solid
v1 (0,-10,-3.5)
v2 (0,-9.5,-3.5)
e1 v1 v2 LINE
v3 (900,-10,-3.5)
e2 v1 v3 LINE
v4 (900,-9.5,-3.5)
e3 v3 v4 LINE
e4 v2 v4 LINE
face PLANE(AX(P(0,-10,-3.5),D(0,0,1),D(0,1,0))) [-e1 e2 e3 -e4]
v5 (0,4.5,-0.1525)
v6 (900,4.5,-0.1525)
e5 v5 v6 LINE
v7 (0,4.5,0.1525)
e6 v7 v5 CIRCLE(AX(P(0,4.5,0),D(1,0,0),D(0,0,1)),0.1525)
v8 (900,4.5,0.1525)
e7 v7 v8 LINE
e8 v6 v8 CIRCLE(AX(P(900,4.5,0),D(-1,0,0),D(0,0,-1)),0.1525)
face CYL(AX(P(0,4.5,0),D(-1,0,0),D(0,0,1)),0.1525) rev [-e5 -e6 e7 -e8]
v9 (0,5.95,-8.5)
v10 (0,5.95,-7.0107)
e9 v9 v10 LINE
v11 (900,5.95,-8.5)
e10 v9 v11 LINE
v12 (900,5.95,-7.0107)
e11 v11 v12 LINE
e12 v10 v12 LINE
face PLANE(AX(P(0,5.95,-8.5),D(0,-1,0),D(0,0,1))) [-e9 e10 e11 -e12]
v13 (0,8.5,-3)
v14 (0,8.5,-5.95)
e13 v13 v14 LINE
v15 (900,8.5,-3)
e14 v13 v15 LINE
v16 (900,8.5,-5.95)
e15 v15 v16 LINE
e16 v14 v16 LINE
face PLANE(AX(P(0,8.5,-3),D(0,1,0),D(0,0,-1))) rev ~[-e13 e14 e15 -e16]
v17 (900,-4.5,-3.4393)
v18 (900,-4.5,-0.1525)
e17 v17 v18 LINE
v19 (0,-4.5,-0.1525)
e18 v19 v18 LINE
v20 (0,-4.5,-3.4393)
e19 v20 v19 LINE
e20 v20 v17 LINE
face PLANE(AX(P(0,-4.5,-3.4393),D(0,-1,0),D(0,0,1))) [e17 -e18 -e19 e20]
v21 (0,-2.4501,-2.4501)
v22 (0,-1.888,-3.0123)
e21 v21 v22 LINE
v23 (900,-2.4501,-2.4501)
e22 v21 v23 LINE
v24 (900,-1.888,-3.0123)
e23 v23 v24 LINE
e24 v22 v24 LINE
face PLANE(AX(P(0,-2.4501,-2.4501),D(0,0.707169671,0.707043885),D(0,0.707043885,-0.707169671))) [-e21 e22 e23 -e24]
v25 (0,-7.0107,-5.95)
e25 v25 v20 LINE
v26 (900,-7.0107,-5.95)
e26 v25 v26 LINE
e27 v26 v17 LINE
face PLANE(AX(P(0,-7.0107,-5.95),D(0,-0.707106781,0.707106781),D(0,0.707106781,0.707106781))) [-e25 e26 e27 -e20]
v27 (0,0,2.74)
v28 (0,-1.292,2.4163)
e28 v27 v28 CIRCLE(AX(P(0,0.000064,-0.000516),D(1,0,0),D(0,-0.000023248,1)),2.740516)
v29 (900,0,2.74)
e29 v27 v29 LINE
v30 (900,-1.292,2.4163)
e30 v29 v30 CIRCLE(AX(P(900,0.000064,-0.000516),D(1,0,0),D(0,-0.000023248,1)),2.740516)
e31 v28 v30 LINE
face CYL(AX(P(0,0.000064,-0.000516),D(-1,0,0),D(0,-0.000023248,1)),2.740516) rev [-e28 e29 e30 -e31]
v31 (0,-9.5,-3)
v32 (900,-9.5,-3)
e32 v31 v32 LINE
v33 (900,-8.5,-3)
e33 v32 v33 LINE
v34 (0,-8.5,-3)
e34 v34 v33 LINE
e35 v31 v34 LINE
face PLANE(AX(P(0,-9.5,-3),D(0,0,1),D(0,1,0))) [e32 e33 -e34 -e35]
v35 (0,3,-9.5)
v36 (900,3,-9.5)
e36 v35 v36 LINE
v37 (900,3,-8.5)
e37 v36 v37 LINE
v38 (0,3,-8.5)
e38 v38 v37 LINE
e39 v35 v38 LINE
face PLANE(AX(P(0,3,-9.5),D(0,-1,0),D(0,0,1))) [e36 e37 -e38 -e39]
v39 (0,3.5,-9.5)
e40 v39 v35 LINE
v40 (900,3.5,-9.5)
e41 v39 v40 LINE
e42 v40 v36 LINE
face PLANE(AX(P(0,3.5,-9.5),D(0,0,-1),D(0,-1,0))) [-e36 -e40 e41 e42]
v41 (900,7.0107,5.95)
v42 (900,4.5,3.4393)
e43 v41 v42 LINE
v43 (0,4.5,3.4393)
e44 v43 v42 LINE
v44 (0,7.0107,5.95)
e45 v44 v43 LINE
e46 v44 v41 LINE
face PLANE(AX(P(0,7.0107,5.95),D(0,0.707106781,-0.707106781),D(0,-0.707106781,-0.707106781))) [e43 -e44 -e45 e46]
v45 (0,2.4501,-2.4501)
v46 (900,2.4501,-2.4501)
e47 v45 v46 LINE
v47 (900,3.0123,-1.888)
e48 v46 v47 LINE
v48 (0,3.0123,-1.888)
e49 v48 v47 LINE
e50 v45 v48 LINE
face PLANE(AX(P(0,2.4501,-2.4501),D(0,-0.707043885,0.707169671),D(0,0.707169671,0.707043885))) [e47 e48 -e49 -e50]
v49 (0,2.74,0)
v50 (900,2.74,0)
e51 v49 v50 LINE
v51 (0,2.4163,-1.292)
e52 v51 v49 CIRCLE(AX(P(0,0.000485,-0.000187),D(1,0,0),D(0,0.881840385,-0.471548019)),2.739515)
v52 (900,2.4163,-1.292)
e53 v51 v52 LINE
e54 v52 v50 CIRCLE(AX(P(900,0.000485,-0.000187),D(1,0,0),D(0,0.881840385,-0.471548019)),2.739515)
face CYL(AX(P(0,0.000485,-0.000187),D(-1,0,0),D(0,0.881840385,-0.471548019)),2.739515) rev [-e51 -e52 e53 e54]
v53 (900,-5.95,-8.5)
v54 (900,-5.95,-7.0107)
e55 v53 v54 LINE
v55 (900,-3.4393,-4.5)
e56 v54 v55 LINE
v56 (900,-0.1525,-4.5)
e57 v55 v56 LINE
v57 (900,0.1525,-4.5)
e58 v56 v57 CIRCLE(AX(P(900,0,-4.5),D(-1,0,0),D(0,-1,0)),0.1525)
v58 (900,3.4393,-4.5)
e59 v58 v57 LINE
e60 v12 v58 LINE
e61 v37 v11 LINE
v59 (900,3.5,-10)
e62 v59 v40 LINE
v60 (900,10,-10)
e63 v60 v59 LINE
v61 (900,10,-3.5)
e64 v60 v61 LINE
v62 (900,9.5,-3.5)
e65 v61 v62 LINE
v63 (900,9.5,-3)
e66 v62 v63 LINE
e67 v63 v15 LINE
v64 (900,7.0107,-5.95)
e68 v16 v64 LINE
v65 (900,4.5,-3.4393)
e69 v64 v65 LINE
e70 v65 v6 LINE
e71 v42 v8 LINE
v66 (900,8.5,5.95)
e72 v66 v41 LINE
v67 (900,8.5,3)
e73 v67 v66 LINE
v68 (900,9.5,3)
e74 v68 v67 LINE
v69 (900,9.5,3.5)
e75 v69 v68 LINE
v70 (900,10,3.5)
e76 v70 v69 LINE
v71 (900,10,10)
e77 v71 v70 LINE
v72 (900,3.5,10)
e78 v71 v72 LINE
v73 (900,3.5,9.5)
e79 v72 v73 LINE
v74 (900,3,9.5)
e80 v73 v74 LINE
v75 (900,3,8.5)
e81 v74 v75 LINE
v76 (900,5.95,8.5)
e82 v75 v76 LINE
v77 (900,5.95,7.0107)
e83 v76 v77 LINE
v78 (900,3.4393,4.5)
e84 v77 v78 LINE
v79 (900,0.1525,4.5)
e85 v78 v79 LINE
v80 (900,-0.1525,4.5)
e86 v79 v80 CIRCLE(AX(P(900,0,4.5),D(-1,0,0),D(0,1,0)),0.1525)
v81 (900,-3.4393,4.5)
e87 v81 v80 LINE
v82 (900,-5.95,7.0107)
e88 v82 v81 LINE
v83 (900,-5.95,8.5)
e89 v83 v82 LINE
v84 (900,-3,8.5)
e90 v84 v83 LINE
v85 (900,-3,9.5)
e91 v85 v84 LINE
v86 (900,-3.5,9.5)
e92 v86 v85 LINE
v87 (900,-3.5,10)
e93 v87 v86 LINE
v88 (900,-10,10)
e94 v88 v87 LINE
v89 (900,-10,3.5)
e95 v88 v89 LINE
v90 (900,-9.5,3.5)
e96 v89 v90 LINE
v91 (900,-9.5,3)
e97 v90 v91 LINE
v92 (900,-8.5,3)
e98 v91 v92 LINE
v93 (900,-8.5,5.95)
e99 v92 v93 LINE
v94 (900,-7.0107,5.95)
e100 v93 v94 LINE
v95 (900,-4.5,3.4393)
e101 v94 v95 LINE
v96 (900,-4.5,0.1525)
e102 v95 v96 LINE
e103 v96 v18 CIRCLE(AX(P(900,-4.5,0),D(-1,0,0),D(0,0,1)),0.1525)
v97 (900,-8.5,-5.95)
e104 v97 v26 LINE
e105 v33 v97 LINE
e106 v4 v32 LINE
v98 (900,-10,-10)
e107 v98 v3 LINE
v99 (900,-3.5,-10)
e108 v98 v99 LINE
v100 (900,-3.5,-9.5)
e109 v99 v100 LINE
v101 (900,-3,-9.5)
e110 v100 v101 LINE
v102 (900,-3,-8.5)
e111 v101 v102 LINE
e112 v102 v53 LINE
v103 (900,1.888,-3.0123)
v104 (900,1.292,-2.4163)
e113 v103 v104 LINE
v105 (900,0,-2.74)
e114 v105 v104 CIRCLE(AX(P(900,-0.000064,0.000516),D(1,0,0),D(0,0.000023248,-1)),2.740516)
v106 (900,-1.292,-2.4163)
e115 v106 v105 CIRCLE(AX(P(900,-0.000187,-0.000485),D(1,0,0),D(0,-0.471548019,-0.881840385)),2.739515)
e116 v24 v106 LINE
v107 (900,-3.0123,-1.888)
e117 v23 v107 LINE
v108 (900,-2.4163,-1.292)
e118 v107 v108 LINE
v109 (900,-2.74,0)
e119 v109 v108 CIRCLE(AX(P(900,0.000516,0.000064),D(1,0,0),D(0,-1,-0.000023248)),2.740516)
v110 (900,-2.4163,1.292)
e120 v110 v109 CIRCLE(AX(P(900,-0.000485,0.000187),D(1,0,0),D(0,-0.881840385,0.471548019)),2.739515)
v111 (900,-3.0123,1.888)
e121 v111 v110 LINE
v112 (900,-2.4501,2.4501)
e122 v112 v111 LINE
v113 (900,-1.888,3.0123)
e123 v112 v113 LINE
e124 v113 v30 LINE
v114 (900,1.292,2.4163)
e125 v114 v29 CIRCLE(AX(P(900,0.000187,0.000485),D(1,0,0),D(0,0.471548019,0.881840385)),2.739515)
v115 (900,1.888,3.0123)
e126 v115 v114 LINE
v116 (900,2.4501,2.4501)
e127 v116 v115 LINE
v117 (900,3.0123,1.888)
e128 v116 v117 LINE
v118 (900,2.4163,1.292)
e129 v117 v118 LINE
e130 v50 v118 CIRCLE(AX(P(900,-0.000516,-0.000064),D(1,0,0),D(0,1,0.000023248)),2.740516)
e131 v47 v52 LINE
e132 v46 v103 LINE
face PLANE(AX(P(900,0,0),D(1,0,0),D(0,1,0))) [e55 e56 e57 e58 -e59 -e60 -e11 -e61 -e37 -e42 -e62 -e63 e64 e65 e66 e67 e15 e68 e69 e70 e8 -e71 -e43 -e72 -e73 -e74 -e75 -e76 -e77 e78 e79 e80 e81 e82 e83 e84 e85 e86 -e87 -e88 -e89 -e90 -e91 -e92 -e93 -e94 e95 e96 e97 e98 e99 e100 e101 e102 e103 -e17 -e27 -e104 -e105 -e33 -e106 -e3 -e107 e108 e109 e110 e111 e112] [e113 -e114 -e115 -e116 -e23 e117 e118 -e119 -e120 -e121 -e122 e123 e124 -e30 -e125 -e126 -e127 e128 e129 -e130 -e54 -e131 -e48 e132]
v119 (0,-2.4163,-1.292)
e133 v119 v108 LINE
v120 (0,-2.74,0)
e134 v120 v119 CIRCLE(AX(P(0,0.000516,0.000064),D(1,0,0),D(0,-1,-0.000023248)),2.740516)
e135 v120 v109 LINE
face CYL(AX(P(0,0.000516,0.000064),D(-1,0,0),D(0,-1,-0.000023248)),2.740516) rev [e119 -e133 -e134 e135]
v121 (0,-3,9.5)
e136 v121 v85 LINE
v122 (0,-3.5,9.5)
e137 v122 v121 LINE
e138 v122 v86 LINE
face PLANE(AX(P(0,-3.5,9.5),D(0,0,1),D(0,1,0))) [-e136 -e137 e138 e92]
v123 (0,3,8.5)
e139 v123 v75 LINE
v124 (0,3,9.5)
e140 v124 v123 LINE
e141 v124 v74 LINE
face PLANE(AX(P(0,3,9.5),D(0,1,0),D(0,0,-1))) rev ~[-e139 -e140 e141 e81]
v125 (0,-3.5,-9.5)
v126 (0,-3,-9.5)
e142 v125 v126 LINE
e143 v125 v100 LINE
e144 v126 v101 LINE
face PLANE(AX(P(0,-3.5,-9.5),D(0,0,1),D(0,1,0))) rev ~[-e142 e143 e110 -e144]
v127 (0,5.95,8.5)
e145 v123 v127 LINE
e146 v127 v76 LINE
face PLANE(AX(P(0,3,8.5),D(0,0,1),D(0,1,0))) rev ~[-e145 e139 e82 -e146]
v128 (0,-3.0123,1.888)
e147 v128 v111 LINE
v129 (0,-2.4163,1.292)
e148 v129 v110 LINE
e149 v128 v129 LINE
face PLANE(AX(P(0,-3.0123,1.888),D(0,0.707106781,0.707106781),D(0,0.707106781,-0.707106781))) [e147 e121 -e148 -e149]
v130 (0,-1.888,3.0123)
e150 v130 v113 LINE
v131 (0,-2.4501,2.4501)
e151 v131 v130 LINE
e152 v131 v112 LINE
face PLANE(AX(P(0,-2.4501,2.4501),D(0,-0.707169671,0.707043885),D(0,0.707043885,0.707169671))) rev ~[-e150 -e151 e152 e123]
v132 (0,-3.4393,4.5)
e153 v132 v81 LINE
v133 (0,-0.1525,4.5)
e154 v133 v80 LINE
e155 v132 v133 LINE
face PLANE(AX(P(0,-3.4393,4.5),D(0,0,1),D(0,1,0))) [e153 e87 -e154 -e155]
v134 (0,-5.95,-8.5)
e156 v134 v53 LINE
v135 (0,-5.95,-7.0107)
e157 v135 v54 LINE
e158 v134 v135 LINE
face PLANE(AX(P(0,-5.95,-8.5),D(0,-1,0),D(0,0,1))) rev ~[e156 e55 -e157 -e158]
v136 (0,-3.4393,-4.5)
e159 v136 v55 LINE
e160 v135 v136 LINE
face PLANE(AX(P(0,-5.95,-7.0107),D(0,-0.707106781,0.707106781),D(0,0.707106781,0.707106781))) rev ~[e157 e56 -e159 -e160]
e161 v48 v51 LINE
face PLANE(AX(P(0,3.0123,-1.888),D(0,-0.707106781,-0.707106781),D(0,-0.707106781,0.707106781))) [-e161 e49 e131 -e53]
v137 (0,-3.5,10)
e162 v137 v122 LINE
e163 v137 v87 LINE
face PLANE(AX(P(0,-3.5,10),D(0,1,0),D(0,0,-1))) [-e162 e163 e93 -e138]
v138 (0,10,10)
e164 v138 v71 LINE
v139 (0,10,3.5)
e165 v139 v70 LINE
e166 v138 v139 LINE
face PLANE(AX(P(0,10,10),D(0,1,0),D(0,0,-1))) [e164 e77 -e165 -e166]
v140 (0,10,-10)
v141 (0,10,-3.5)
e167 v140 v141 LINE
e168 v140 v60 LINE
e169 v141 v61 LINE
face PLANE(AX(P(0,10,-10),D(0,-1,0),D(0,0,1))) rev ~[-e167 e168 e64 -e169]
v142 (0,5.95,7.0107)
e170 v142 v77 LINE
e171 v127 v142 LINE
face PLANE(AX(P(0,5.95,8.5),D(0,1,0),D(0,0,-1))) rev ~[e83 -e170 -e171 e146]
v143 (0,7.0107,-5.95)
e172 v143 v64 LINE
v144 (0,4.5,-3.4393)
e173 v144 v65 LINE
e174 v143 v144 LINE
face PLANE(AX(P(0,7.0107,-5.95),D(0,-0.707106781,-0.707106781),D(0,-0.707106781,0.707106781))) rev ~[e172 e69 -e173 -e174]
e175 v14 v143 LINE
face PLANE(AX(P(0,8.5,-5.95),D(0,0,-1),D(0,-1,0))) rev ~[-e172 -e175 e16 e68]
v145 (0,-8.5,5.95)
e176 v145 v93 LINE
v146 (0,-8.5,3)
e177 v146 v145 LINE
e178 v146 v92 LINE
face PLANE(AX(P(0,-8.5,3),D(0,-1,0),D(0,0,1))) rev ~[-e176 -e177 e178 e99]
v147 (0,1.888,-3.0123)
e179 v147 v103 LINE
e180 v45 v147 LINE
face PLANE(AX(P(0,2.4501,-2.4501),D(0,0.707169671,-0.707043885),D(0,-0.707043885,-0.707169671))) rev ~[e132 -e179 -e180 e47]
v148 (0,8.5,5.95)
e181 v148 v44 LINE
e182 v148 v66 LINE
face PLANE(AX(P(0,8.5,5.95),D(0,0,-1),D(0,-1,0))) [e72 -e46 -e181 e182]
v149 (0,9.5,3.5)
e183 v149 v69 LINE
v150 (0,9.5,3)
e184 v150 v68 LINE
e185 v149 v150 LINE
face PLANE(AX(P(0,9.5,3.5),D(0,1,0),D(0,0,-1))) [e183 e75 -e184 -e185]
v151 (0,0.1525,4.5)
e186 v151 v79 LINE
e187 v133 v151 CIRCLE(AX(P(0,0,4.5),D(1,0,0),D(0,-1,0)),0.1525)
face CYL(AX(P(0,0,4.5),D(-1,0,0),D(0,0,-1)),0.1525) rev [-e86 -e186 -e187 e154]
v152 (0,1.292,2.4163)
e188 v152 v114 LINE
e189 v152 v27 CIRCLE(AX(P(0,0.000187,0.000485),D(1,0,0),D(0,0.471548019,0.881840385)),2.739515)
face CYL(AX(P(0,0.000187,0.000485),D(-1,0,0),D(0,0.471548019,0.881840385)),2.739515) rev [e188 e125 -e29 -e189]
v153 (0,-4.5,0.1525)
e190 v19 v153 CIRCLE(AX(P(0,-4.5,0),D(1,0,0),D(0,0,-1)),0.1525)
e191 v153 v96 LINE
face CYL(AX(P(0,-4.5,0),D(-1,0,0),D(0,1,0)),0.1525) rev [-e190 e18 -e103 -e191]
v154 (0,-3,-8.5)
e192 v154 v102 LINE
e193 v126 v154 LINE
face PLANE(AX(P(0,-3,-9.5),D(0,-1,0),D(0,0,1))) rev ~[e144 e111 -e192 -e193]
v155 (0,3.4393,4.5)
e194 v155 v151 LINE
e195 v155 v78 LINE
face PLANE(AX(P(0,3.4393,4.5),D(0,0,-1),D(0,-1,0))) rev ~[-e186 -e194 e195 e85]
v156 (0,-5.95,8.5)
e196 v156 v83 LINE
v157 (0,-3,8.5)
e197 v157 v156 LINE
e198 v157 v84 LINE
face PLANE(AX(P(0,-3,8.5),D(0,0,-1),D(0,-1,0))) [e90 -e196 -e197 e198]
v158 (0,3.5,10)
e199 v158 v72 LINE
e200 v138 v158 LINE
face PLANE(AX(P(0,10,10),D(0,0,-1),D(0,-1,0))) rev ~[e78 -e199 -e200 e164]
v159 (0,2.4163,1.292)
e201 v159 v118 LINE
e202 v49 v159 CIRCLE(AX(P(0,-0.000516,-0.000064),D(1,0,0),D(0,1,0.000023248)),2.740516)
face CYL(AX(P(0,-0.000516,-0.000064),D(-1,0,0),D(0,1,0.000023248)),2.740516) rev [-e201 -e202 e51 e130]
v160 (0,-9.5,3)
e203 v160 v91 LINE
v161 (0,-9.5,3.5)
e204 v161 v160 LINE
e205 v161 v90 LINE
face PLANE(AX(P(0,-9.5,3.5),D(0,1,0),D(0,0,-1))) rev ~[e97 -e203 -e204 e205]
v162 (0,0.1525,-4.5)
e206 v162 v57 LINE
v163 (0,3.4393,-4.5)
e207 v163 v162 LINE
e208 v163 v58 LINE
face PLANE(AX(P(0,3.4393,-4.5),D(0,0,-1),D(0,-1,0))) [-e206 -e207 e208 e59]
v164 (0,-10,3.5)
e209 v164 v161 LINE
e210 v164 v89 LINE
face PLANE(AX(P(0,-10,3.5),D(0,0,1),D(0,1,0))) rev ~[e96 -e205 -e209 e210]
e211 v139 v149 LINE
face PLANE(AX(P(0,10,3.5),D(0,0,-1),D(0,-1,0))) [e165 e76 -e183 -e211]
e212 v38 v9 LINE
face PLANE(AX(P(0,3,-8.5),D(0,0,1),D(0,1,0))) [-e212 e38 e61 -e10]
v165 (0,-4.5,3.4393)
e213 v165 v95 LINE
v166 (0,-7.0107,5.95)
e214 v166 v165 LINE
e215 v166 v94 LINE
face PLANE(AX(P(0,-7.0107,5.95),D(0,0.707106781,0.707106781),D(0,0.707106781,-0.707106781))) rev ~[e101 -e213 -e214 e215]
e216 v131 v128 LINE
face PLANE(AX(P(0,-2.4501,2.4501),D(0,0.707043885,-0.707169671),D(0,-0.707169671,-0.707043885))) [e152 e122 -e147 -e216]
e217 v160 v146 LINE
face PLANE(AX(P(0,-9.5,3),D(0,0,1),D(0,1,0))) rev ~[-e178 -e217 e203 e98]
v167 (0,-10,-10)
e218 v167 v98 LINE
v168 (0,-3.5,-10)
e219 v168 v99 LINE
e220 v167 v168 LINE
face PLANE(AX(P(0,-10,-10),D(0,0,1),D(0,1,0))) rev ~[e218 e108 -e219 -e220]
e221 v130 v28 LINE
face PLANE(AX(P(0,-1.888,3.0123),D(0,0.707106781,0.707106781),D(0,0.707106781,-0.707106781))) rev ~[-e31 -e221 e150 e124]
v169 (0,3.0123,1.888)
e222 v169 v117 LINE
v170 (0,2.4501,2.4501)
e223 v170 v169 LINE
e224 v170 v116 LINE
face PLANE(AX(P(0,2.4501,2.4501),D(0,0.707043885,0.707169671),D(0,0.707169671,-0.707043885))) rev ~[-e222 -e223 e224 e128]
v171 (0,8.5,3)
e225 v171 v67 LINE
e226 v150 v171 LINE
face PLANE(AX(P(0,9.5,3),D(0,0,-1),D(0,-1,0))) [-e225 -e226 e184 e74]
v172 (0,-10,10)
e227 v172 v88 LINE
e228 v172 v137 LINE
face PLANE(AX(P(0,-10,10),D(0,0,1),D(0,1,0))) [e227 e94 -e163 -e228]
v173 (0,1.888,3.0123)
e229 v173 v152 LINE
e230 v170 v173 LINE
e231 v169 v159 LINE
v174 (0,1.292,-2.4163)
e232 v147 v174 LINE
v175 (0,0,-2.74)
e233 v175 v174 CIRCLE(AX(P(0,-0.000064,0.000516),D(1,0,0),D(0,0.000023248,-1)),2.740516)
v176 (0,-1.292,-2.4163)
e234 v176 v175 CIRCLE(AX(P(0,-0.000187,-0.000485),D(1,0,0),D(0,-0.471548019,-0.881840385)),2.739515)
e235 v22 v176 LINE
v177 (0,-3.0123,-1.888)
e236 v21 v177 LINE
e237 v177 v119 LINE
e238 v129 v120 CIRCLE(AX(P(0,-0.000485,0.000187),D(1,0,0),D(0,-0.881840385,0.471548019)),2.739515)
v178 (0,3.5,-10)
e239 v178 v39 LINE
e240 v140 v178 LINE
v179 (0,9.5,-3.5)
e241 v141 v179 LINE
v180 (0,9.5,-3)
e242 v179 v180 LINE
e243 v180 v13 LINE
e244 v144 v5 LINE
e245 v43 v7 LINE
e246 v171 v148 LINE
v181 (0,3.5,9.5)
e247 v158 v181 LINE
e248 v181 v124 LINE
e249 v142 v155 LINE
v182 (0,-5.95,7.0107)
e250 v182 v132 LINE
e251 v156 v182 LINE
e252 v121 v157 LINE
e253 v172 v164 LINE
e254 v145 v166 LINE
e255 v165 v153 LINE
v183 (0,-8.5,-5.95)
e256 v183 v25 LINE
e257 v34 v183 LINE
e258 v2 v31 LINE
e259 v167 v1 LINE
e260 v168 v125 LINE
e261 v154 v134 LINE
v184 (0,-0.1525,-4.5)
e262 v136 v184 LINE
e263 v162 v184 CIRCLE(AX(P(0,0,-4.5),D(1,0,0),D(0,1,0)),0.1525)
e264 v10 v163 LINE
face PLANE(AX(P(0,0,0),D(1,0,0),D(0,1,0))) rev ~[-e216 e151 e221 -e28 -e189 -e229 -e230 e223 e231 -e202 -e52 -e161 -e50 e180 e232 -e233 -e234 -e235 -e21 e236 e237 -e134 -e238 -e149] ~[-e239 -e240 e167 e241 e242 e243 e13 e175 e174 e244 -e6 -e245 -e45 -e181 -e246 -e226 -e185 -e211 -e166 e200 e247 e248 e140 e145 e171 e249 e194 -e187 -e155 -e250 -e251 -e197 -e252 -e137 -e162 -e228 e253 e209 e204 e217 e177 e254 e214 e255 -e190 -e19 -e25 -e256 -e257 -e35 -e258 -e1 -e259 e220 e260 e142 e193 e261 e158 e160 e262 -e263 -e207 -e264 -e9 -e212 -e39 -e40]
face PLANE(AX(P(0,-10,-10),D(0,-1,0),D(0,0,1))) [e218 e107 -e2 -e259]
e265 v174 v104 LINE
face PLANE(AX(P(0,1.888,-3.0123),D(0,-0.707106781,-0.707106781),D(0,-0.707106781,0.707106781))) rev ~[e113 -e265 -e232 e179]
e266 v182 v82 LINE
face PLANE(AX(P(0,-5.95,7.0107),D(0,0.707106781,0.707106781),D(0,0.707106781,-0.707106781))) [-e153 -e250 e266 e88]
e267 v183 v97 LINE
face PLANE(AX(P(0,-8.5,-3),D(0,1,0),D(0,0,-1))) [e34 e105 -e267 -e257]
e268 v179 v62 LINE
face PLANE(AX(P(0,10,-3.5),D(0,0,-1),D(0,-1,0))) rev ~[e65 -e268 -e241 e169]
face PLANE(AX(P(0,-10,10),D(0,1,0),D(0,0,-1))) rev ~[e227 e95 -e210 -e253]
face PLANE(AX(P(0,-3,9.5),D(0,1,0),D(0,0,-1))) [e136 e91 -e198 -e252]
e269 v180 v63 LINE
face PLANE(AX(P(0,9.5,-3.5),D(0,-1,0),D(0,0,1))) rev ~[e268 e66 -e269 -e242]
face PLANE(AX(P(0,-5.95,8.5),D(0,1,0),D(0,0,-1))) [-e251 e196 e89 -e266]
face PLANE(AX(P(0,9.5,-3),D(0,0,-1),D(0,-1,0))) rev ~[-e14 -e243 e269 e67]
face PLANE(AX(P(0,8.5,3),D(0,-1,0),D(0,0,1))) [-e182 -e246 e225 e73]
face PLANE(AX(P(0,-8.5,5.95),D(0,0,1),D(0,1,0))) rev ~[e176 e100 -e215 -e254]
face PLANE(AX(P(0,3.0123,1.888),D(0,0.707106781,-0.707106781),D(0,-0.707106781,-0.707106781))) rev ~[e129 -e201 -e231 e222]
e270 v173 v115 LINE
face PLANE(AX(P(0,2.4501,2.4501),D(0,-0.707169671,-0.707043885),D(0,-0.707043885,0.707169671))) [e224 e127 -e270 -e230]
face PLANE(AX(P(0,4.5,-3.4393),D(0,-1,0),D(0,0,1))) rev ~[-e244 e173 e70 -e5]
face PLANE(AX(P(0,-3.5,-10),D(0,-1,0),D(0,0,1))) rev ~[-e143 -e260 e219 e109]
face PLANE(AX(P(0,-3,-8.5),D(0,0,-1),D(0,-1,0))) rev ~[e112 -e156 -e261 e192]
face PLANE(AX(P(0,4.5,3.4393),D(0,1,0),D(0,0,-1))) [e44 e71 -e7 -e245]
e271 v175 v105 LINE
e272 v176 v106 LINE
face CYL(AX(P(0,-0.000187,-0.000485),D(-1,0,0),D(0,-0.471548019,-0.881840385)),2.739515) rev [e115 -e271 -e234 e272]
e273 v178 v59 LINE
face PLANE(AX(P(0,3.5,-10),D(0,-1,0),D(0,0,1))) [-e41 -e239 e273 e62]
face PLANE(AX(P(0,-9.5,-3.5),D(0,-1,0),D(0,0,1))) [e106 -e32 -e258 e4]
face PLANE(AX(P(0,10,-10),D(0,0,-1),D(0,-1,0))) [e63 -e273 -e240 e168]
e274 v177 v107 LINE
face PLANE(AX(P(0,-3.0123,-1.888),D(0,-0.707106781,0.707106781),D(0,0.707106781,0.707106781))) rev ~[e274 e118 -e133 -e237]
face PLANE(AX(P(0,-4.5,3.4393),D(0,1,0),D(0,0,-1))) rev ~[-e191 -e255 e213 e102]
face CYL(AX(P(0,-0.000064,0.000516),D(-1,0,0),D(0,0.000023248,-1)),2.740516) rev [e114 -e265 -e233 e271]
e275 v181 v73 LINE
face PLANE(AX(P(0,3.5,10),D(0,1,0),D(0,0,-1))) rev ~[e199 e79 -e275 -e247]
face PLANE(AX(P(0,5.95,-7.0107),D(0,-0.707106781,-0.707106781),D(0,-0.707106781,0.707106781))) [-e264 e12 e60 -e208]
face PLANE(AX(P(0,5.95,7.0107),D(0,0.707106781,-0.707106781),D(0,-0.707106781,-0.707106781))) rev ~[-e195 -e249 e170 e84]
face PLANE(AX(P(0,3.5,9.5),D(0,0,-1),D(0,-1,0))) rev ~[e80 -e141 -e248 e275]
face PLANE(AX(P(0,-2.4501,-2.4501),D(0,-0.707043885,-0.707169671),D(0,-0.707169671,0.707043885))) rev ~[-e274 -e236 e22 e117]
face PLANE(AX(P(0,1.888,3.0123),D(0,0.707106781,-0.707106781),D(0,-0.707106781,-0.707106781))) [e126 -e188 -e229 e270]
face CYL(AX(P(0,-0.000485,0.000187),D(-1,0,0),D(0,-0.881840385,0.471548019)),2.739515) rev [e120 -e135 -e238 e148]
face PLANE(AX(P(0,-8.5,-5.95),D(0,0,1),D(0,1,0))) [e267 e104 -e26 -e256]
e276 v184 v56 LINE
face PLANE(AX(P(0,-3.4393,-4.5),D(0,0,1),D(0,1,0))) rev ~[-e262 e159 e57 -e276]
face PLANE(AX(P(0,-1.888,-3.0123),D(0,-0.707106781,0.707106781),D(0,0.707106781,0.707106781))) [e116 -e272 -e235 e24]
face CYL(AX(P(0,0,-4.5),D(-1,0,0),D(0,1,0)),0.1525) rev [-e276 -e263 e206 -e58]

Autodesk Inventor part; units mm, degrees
ref_plane "YZ Plane" through (0, 0, 0) normal (1, 0, 0) x (0, 1, 0)
ref_plane "XZ Plane" through (0, 0, 0) normal (0, 1, 0) x (-1, 0, 0)
ref_plane "XY Plane" through (0, 0, 0) normal (0, 0, 1) x (1, 0, 0)
sketch "Sketch1" plane through (0, 0, 0) normal (1, 0, 0) x (0, 1, 0)
  line L0 (-10, -10) -> (10, 10) construction
  line L1 (10, 10) -> (10, 3.5)
  line L2 (10, 3.5) -> (9.5, 3.5)
  line L3 (9.5, 3.5) -> (9.5, 3)
  line L4 (9.5, 3) -> (8.5, 3)
  line L5 (8.5, 3) -> (8.5, 5.95)
  line L6 (8.5, 5.95) -> (7.0107, 5.95)
  line L7 (7.0107, 5.95) -> (4.5, 3.4393)
  line L8 (4.5, 3.4393) -> (4.5, 0.1525)
  line L9 (2.4501, 2.4501) -> (3.0123, 1.888)
  line L10 (3.0123, 1.888) -> (2.4163, 1.292)
  arc A0 (2.74, 0) -> (2.4163, 1.292) centre (0, 0) ccw
  arc A1 (4.5, 0.1525) -> (4.3475, 0) centre (4.5, 0) ccw
  line L11 (10, 10) -> (2.4501, 2.4501)
  line L12 (4.3475, 0) -> (2.74, 0)
  line L13 (0, 0) -> (2.74, 0) construction
  line L14 (10, 10) -> (3.5, 10)
  line L15 (3.5, 10) -> (3.5, 9.5)
  line L16 (3.5, 9.5) -> (3, 9.5)
  line L17 (3, 9.5) -> (3, 8.5)
  line L18 (3, 8.5) -> (5.95, 8.5)
  line L19 (5.95, 8.5) -> (5.95, 7.0107)
  line L20 (5.95, 7.0107) -> (3.4393, 4.5)
  line L21 (3.4393, 4.5) -> (0.1525, 4.5)
  line L22 (2.4501, 2.4501) -> (1.888, 3.0123)
  line L23 (1.888, 3.0123) -> (1.292, 2.4163)
  arc A2 (1.292, 2.4163) -> (0, 2.74) centre (0, 0) ccw
  arc A3 (0, 4.3475) -> (0.1525, 4.5) centre (0, 4.5) ccw
  line L24 (0, 4.3475) -> (0, 2.74)
  line L25 (0, 0) -> (0, 2.74) construction
  line L26 (-8.5, 5.95) -> (-7.0107, 5.95)
  line L27 (-10, 3.5) -> (-9.5, 3.5)
  line L28 (-8.5, 3) -> (-8.5, 5.95)
  line L29 (-9.5, 3.5) -> (-9.5, 3)
  line L30 (-9.5, 3) -> (-8.5, 3)
  line L31 (-5.95, 8.5) -> (-5.95, 7.0107)
  line L32 (-7.0107, 5.95) -> (-4.5, 3.4393)
  line L33 (-5.95, 7.0107) -> (-3.4393, 4.5)
  line L34 (-10, 10) -> (-10, 3.5)
  line L35 (-10, 10) -> (-3.5, 10)
  line L36 (-10, 10) -> (-2.4501, 2.4501)
  line L37 (-3, 8.5) -> (-5.95, 8.5)
  line L38 (-3, 9.5) -> (-3, 8.5)
  line L39 (-3.5, 10) -> (-3.5, 9.5)
  line L40 (-3.5, 9.5) -> (-3, 9.5)
  line L41 (-3.4393, 4.5) -> (-0.1525, 4.5)
  line L42 (-2.4501, 2.4501) -> (-1.888, 3.0123)
  line L43 (-1.888, 3.0123) -> (-1.292, 2.4163)
  arc A4 (0, 2.74) -> (-1.292, 2.4163) centre (0, 0) ccw
  arc A5 (-0.1525, 4.5) -> (0, 4.3475) centre (0, 4.5) ccw
  line L44 (-2.4501, 2.4501) -> (-3.0123, 1.888)
  line L45 (-4.5, 3.4393) -> (-4.5, 0.1525)
  arc A6 (-4.3475, 0) -> (-4.5, 0.1525) centre (-4.5, 0) ccw
  line L46 (0, 4.3475) -> (0, 2.74)
  line L47 (-4.3475, 0) -> (-2.74, 0)
  arc A7 (-2.4163, 1.292) -> (-2.74, 0) centre (0, 0) ccw
  line L48 (0, 0) -> (0, 2.74) construction
  line L49 (-3.0123, 1.888) -> (-2.4163, 1.292)
  line L50 (-5.95, -8.5) -> (-5.95, -7.0107)
  line L51 (-3.5, -10) -> (-3.5, -9.5)
  line L52 (-3, -8.5) -> (-5.95, -8.5)
  line L53 (-3.5, -9.5) -> (-3, -9.5)
  line L54 (-3, -9.5) -> (-3, -8.5)
  line L55 (-8.5, -5.95) -> (-7.0107, -5.95)
  line L56 (-5.95, -7.0107) -> (-3.4393, -4.5)
  line L57 (-7.0107, -5.95) -> (-4.5, -3.4393)
  line L58 (-10, -10) -> (-3.5, -10)
  line L59 (-10, -10) -> (-10, -3.5)
  line L60 (-10, -10) -> (-2.4501, -2.4501)
  line L61 (-8.5, -3) -> (-8.5, -5.95)
  line L62 (-9.5, -3) -> (-8.5, -3)
  line L63 (-10, -3.5) -> (-9.5, -3.5)
  line L64 (-9.5, -3.5) -> (-9.5, -3)
  line L65 (-4.5, -3.4393) -> (-4.5, -0.1525)
  line L66 (-2.4501, -2.4501) -> (-3.0123, -1.888)
  line L67 (-3.0123, -1.888) -> (-2.4163, -1.292)
  arc A8 (-2.74, 0) -> (-2.4163, -1.292) centre (0, 0) ccw
  arc A9 (-4.5, -0.1525) -> (-4.3475, 0) centre (-4.5, 0) ccw
  line L68 (-2.4501, -2.4501) -> (-1.888, -3.0123)
  line L69 (-3.4393, -4.5) -> (-0.1525, -4.5)
  arc A10 (0, -4.3475) -> (-0.1525, -4.5) centre (0, -4.5) ccw
  line L70 (-4.3475, 0) -> (-2.74, 0)
  line L71 (0, -4.3475) -> (0, -2.74)
  arc A11 (-1.292, -2.4163) -> (0, -2.74) centre (0, 0) ccw
  line L72 (0, 0) -> (-2.74, 0) construction
  line L73 (-1.888, -3.0123) -> (-1.292, -2.4163)
  line L74 (8.5, -5.95) -> (7.0107, -5.95)
  line L75 (10, -3.5) -> (9.5, -3.5)
  line L76 (8.5, -3) -> (8.5, -5.95)
  line L77 (9.5, -3.5) -> (9.5, -3)
  line L78 (9.5, -3) -> (8.5, -3)
  line L79 (5.95, -8.5) -> (5.95, -7.0107)
  line L80 (7.0107, -5.95) -> (4.5, -3.4393)
  line L81 (5.95, -7.0107) -> (3.4393, -4.5)
  line L82 (10, -10) -> (10, -3.5)
  line L83 (10, -10) -> (3.5, -10)
  line L84 (10, -10) -> (2.4501, -2.4501)
  line L85 (3, -8.5) -> (5.95, -8.5)
  line L86 (3, -9.5) -> (3, -8.5)
  line L87 (3.5, -10) -> (3.5, -9.5)
  line L88 (3.5, -9.5) -> (3, -9.5)
  line L89 (3.4393, -4.5) -> (0.1525, -4.5)
  line L90 (2.4501, -2.4501) -> (1.888, -3.0123)
  line L91 (1.888, -3.0123) -> (1.292, -2.4163)
  arc A12 (0, -2.74) -> (1.292, -2.4163) centre (0, 0) ccw
  arc A13 (0.1525, -4.5) -> (0, -4.3475) centre (0, -4.5) ccw
  line L92 (2.4501, -2.4501) -> (3.0123, -1.888)
  line L93 (4.5, -3.4393) -> (4.5, -0.1525)
  arc A14 (4.3475, 0) -> (4.5, -0.1525) centre (4.5, 0) ccw
  line L94 (0, -4.3475) -> (0, -2.74)
  line L95 (4.3475, 0) -> (2.74, 0)
  arc A15 (2.4163, -1.292) -> (2.74, 0) centre (0, 0) ccw
  line L96 (0, 0) -> (0, -2.74) construction
  line L97 (3.0123, -1.888) -> (2.4163, -1.292)
  point P0 (9, 3)
  point P1 (3, 9)
  point P2 (-9, 3)
  point P3 (-3, 9)
  point P4 (-3, -9)
  point P5 (-9, -3)
  point P6 (9, -3)
  point P7 (3, -9)
  dimension "d2" = 6.5
  dimension "d3" = 0.5
  dimension "d4" = 4
  dimension "d5" = 3.465
  dimension "d6" = 5.48
  dimension "d7" = 0.795
  dimension "d8" = 0.305
  dimension "d9" = 2.95
  dimension "d11" = 0.75
  dimension "d14" = 45
  dimension "d15" = 10
  dimension "d16" = 1
  dimension "d17" = 3
  dimension "d18" = 45
  dimension "d21" = 360
extrude "Extrusion1" add sketch "Sketch1" along normal blind 900 contours L1 L2 L3 L4 L5 L6 L7 L8 A1 L12 A0 L10 L9 L11 | L11 L22 L23 A2 L24 A3 L21 L20 L19 L18 L17 L16 L15 L14 | L12 A14 L93 L80 L74 L76 L78 L77 L75 L82 L84 L92 L97 A15 | A4 L43 L42 L36 L35 L39 L40 L38 L37 L31 L33 L41 A5 L24 | L84 L83 L87 L88 L86 L85 L79 L81 L89 A13 L71 A12 L91 L90 | L44 L49 A7 L47 A6 L45 L32 L26 L28 L30 L29 L27 L34 L36 | L71 A10 L69 L56 L50 L52 L54 L53 L51 L58 L60 L68 L73 A11 | A8 L67 L66 L60 L59 L63 L64 L62 L61 L55 L57 L65 A9 L47
properties part number "20mm Extrusion 500mm" material "Aluminum 6061"
